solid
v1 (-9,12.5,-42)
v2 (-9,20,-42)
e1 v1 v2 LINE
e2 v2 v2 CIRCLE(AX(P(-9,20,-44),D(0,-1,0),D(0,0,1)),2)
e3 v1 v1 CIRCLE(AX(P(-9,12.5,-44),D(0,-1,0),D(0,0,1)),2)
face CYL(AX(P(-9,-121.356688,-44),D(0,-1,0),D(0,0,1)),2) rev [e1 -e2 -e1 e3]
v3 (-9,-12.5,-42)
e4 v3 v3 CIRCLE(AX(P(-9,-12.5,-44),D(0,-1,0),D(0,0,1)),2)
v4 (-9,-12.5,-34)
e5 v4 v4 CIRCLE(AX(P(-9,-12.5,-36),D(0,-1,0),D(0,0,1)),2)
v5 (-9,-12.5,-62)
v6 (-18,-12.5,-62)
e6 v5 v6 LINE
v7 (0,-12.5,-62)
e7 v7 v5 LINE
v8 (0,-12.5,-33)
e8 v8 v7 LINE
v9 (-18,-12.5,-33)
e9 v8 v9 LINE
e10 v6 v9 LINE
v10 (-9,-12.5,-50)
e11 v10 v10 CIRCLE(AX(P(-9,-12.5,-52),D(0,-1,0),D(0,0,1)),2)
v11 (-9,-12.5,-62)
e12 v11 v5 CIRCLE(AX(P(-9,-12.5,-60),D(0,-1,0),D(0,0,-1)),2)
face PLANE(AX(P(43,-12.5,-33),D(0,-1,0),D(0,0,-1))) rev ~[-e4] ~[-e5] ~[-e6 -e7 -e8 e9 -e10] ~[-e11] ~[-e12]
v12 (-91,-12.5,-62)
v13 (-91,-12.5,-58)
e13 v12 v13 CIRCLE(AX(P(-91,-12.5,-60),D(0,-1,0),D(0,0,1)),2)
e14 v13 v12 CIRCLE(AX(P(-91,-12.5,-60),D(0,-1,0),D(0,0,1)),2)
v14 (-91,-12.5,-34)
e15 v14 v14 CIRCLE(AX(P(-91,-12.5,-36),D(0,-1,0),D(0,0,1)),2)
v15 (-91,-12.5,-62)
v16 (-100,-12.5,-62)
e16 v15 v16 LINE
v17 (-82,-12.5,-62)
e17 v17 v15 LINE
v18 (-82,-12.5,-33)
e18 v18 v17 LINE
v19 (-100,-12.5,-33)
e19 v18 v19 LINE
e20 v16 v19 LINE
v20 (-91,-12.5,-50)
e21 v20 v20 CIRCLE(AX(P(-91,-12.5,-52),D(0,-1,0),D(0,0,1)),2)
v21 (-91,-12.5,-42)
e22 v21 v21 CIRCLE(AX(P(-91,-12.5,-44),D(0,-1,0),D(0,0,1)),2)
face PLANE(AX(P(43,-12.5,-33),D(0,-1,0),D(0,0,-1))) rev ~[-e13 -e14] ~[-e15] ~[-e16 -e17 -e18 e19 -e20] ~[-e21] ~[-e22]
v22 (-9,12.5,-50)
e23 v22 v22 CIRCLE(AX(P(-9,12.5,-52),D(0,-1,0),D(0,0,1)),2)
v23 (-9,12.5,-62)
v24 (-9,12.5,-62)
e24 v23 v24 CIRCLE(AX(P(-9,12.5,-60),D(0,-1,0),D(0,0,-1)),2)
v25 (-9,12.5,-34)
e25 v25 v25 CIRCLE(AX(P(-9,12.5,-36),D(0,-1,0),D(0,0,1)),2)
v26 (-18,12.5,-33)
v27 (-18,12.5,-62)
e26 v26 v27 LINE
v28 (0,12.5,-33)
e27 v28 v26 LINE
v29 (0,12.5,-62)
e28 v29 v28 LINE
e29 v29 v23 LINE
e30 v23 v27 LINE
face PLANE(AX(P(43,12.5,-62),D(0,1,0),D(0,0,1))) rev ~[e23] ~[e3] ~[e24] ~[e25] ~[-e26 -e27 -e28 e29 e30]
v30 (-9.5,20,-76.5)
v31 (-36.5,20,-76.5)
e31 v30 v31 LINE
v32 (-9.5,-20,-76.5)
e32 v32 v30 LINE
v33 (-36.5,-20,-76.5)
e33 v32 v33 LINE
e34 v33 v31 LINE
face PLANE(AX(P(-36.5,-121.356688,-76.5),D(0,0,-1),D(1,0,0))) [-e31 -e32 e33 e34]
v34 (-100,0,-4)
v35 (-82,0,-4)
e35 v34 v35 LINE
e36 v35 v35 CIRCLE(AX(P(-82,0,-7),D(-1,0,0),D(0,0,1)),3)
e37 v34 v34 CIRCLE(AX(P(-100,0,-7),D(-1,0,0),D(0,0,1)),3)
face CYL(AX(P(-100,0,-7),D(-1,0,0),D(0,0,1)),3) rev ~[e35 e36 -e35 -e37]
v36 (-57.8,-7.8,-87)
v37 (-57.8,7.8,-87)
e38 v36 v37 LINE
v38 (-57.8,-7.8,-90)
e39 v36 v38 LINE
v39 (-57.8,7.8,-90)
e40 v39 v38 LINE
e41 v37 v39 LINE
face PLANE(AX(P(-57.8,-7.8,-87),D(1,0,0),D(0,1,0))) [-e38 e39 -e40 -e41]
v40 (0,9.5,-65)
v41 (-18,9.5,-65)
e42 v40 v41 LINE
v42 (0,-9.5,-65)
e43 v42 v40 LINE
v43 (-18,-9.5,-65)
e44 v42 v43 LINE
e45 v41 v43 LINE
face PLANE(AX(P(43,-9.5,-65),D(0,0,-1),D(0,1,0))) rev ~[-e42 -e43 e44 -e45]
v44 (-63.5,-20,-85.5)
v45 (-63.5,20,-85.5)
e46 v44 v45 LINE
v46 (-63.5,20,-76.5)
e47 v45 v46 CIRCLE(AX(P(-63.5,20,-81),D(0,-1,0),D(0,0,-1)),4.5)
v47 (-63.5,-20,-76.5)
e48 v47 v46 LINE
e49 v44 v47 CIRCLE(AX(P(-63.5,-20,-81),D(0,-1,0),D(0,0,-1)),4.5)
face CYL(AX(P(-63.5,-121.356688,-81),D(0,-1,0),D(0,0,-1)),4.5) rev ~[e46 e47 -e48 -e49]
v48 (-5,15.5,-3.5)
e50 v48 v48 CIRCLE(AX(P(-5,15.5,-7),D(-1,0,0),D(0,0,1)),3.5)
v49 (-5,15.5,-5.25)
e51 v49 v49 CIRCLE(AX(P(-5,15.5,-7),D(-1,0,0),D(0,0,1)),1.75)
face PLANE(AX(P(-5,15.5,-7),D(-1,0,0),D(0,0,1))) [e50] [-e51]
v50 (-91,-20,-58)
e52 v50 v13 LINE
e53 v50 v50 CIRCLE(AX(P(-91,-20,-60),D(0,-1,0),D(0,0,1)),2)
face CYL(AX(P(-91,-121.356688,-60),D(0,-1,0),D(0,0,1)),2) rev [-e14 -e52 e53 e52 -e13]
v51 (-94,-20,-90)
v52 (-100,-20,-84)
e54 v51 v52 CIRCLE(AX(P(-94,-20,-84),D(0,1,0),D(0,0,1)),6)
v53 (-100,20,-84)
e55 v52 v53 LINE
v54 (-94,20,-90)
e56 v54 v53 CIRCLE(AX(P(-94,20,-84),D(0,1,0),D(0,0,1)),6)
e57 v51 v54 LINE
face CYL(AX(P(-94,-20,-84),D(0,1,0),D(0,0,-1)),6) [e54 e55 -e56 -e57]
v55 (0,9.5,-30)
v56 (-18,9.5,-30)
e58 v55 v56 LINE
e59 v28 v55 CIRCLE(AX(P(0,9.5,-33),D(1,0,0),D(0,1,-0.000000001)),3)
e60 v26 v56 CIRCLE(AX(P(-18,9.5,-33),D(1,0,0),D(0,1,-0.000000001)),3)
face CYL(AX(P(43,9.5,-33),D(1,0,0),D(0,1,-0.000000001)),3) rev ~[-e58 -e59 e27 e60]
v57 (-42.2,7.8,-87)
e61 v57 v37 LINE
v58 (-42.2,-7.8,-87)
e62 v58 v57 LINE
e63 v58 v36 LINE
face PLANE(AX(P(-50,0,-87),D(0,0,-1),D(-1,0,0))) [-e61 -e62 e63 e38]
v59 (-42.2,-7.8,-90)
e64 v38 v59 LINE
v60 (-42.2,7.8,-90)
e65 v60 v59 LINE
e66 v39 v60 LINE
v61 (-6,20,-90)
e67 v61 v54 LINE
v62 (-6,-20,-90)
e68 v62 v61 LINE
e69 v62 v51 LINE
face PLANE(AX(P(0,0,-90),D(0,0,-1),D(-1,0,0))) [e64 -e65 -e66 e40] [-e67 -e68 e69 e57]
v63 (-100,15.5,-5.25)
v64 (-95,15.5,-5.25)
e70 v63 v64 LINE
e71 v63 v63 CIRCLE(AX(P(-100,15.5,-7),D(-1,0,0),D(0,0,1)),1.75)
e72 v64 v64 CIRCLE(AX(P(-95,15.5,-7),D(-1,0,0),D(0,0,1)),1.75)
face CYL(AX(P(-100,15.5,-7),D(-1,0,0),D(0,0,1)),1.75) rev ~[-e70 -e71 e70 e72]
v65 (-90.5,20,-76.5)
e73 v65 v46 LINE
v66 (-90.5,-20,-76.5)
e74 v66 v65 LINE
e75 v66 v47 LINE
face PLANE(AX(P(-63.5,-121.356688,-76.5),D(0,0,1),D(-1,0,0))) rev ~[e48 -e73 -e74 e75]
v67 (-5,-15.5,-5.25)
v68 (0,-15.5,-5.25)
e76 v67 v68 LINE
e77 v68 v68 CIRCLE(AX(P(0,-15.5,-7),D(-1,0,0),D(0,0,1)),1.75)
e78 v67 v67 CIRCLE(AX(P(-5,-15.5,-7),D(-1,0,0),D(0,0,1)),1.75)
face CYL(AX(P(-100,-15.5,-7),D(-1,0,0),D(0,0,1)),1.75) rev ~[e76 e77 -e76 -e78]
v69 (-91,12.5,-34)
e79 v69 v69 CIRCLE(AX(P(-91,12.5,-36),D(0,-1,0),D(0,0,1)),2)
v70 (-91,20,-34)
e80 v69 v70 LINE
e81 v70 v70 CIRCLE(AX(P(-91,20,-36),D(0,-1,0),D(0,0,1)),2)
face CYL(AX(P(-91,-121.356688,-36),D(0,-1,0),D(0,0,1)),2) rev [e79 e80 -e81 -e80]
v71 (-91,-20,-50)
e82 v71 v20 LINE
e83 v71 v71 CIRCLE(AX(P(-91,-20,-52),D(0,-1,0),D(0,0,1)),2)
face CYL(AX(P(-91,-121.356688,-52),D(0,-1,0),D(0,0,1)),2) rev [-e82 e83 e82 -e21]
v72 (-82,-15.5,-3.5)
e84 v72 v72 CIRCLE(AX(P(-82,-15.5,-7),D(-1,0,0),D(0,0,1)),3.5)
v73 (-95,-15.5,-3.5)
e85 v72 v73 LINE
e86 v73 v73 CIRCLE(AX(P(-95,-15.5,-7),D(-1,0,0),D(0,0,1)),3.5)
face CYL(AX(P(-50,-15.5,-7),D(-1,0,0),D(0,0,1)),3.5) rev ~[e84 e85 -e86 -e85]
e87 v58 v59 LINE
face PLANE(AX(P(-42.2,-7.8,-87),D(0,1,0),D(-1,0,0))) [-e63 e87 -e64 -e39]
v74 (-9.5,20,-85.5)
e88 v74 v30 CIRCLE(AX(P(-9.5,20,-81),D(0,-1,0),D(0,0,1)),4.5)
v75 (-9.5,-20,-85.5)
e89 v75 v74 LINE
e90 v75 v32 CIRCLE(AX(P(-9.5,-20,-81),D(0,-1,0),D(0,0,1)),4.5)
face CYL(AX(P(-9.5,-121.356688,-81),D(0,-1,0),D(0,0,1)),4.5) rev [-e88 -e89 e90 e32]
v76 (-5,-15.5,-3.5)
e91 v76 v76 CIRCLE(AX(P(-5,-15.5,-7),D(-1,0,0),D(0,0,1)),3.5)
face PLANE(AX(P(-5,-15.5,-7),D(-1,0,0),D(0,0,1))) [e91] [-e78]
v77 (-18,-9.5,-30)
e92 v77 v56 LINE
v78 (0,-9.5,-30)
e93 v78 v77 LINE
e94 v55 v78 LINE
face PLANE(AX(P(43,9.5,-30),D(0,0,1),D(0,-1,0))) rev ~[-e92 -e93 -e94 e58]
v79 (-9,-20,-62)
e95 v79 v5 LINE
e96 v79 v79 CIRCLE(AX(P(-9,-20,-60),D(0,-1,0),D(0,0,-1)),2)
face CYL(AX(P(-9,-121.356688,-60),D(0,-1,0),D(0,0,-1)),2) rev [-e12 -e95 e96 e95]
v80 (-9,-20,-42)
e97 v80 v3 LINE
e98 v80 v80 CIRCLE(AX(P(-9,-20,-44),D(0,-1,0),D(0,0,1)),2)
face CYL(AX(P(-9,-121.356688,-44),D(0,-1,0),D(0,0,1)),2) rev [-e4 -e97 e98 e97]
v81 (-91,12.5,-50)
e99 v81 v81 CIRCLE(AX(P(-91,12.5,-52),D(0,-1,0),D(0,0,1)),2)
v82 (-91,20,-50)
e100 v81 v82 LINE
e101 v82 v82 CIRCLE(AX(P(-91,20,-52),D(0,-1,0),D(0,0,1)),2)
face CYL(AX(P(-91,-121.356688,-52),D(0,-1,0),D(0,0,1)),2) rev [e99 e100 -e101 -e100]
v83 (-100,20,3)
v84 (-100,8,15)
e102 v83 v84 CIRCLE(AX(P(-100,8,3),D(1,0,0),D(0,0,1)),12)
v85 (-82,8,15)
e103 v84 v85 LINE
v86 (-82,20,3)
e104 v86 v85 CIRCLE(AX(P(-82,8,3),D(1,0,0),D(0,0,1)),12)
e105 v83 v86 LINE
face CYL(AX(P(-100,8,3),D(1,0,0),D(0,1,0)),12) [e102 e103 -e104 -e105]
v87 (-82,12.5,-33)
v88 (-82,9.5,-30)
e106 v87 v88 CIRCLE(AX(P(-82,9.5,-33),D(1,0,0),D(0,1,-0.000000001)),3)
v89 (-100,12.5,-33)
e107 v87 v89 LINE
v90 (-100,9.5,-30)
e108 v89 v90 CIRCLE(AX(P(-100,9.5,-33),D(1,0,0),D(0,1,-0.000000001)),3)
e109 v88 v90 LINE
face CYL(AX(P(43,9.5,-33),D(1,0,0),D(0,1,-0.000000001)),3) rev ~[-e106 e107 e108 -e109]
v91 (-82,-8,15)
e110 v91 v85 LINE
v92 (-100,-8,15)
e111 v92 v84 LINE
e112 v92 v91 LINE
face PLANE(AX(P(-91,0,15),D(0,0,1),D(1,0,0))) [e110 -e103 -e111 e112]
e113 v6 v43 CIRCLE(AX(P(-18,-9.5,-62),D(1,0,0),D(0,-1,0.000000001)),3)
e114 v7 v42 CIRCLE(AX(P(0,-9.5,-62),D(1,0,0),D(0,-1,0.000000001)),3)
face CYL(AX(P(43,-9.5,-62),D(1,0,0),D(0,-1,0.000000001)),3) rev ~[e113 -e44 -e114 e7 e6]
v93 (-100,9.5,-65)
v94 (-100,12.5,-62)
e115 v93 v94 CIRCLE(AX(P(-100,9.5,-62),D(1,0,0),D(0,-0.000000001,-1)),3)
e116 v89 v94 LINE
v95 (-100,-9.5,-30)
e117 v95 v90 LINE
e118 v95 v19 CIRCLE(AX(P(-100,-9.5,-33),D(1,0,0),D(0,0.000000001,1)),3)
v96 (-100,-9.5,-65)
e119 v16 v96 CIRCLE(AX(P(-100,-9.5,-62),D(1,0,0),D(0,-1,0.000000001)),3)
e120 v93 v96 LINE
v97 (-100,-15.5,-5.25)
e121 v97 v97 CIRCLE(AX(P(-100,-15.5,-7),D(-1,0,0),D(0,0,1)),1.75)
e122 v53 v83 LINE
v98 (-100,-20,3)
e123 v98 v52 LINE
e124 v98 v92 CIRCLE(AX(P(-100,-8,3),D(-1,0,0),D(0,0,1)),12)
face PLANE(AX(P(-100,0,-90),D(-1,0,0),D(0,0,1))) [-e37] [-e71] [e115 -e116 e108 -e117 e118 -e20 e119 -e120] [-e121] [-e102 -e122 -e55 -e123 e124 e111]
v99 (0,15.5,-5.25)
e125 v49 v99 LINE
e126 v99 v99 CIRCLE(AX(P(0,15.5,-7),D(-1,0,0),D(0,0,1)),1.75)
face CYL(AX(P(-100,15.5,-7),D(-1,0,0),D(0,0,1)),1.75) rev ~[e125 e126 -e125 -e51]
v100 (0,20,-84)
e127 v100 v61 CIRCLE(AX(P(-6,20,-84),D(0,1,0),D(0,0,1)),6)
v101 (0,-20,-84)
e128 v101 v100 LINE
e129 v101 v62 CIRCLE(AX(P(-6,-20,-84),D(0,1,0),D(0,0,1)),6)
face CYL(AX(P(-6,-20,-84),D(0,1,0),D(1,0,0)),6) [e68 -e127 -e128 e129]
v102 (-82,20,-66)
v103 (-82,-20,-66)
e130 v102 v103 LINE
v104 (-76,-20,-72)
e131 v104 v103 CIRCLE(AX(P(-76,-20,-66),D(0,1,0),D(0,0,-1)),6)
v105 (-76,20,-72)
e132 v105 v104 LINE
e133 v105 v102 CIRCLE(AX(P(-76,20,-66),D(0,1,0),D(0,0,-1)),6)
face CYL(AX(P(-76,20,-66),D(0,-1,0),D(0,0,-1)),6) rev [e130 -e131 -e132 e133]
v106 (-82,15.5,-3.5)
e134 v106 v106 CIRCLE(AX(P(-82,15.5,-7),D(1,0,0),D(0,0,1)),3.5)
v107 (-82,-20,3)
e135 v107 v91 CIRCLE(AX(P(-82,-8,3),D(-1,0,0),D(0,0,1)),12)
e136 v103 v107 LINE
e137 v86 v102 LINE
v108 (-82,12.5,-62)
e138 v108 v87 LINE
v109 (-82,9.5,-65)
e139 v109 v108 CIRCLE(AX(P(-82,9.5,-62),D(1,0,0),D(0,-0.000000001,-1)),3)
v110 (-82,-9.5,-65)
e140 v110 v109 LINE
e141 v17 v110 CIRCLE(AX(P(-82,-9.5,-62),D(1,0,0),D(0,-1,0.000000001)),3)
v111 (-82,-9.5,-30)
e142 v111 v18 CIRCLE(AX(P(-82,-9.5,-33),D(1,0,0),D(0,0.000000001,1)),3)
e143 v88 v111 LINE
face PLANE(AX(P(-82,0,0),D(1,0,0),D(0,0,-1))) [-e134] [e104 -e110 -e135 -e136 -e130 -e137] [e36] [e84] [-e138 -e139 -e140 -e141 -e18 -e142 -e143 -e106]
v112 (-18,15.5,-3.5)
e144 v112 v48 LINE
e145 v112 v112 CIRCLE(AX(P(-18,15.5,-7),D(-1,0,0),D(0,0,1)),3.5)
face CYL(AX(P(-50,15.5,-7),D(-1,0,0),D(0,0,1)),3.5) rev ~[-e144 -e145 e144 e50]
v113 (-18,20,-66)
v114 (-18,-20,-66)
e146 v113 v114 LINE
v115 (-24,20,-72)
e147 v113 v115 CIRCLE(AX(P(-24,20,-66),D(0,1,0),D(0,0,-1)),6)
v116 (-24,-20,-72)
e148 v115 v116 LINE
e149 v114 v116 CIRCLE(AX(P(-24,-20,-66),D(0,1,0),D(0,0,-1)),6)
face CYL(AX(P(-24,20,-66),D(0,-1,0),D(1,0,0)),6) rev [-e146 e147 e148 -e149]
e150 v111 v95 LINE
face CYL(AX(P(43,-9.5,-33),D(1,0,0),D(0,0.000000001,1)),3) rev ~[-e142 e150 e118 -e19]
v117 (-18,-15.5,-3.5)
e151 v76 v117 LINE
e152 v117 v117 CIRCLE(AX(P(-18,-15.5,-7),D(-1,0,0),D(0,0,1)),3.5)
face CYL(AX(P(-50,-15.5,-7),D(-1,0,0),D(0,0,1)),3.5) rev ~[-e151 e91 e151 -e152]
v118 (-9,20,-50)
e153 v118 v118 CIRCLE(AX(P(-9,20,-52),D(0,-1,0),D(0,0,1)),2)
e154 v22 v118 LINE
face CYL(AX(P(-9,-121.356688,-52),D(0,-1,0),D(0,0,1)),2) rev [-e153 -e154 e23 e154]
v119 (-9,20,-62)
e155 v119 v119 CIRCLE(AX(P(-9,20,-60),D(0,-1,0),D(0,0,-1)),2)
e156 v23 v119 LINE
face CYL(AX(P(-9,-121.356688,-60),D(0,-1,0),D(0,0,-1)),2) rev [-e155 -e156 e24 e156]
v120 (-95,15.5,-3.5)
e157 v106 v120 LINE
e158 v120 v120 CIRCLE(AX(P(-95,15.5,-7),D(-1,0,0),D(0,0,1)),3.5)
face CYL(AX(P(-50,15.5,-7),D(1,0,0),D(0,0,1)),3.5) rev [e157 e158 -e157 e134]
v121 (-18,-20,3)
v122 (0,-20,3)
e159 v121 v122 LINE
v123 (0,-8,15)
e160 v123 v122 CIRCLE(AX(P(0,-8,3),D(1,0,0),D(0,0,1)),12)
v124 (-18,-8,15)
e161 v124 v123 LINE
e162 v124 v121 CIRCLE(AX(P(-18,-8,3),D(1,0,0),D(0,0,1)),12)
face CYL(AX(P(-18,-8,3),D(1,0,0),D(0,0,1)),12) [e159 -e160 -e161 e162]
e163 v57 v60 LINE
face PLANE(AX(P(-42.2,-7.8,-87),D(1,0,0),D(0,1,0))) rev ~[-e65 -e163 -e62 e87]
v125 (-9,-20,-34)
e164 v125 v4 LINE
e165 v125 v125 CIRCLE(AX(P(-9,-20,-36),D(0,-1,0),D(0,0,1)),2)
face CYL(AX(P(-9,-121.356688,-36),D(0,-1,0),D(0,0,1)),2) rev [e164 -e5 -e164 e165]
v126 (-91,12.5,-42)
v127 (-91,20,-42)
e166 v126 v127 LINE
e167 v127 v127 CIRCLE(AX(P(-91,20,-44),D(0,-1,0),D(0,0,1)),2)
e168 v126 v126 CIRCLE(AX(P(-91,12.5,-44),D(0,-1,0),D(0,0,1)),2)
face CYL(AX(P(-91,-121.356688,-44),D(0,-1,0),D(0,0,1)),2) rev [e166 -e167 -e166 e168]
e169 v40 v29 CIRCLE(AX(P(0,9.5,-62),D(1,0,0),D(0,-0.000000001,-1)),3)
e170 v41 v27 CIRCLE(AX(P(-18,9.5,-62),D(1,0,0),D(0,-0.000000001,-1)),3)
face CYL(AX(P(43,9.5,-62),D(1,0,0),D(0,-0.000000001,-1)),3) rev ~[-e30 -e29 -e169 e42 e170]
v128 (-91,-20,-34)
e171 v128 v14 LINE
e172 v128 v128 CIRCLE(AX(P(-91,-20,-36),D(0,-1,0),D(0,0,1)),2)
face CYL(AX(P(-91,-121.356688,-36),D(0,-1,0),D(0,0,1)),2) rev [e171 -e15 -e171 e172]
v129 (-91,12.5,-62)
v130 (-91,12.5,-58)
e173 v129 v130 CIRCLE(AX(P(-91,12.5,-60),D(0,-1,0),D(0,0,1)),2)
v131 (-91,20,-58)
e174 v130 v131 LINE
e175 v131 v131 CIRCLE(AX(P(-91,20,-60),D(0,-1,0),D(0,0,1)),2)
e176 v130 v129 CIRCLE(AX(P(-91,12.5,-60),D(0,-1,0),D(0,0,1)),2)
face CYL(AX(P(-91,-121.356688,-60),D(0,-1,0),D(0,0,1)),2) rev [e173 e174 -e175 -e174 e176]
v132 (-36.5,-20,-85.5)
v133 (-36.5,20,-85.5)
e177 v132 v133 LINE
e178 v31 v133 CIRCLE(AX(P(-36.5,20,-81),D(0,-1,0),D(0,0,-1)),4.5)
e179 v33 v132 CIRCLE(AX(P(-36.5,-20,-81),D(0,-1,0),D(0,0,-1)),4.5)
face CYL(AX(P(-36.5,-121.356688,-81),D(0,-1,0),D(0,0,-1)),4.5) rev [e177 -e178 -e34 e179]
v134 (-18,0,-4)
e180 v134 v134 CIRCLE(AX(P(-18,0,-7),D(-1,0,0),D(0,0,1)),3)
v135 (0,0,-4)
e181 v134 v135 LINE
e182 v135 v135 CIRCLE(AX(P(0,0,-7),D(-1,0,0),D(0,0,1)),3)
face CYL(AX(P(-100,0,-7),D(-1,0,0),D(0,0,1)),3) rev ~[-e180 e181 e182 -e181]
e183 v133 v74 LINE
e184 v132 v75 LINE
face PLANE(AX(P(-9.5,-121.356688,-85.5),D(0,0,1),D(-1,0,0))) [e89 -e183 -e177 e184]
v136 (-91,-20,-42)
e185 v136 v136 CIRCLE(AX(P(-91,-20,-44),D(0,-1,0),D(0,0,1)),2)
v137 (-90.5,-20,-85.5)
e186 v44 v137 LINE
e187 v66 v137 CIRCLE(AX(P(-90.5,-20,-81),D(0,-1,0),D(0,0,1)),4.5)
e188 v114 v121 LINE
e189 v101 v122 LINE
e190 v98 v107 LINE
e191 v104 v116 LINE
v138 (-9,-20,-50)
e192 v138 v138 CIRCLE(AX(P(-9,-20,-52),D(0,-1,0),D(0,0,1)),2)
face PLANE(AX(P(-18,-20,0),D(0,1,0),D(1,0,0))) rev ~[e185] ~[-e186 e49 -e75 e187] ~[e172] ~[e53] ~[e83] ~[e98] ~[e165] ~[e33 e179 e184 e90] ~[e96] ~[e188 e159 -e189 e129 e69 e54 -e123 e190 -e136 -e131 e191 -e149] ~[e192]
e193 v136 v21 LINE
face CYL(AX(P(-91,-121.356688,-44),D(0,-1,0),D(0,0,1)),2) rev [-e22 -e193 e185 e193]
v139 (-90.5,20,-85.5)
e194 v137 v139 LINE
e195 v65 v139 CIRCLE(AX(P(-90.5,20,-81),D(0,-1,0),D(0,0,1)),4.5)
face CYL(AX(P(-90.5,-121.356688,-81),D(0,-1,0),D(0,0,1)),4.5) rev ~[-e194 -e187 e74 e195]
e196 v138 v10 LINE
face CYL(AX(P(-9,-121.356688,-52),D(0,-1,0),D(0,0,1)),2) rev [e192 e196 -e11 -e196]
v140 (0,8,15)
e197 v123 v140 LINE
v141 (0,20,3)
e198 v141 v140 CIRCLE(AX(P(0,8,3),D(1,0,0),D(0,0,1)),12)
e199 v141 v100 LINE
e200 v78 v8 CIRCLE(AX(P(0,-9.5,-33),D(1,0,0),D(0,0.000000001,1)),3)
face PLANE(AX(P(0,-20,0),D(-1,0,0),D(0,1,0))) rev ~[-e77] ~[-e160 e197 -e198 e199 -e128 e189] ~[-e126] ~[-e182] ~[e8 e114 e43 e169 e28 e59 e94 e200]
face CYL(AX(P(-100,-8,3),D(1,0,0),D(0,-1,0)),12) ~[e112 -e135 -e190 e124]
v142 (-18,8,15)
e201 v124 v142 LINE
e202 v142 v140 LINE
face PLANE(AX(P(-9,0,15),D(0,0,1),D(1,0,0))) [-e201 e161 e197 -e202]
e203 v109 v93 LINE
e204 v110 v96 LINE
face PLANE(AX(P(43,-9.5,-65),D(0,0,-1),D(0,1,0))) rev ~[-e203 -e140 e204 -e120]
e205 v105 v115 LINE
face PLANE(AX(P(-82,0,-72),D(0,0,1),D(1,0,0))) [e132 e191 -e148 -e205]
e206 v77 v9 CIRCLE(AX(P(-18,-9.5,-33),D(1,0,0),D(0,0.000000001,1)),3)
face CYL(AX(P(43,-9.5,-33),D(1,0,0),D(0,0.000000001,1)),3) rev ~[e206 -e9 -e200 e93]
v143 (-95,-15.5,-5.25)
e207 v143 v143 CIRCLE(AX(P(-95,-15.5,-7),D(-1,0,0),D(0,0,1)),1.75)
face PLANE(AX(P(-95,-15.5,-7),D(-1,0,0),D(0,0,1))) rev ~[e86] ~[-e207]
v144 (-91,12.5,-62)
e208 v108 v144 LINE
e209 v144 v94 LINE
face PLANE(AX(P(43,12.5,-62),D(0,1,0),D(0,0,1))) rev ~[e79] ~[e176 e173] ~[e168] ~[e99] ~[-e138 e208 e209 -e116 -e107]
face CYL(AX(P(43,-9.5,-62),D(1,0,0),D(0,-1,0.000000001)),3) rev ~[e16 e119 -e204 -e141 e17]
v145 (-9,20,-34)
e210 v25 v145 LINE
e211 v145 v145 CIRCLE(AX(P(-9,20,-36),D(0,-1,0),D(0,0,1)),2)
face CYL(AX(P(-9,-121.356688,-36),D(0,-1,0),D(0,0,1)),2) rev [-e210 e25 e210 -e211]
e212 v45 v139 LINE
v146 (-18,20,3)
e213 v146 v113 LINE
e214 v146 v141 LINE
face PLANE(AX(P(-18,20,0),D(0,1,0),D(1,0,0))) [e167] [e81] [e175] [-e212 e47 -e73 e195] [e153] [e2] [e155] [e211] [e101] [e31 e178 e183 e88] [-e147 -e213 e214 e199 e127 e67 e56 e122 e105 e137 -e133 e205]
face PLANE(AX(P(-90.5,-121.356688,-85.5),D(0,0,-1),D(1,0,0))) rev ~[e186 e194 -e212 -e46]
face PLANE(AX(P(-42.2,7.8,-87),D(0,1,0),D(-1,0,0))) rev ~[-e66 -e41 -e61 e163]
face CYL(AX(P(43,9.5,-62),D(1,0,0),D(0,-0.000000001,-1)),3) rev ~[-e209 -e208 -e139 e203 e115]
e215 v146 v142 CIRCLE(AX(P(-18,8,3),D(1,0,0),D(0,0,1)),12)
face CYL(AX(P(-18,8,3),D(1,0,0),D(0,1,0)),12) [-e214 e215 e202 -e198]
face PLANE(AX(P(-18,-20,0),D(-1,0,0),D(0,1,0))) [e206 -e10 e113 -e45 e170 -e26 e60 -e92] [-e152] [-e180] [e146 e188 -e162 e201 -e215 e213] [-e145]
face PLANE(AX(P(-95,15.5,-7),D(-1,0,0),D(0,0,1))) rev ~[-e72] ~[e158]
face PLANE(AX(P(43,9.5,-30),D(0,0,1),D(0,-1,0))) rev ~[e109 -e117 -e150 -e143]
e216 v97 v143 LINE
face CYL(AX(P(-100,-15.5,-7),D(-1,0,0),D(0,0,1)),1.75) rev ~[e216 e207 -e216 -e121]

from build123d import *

# Parameters (mm, degrees)
EXTRUDE_1_DEPTH          = 20
SKETCH_2_R               = 3
SKETCH_2_R_2             = 1.75
CUT_EXTRUDE_1_DEPTH      = 112
CUT_EXTRUDE_2_DEPTH      = 123
CUT_EXTRUDE_2_DEPTH_BACK = 61
SKETCH_5_W               = 18
SKETCH_5_H               = 40
EXTRUDE_3_DEPTH          = 15
CUT_EXTRUDE_3_DEPTH      = 141.356688476
CUT_EXTRUDE_3_DEPTH_BACK = 141.356688476
SKETCH_6_R               = 2
CUT_EXTRUDE_4_DEPTH      = 141.356688476
CUT_EXTRUDE_4_DEPTH_BACK = 141.356688476
FILLET_1_R               = 6
FILLET_2_R               = 12
CUT_EXTRUDE_5_DEPTH      = 147.372811683
CUT_EXTRUDE_5_DEPTH_BACK = 3
SKETCH_8_W               = 15.6
SKETCH_8_H               = 15.6
SKETCH_9_R               = 3.5
CUT_EXTRUDE_6_DEPTH      = 45


with BuildPart() as part:
    # 草图1 → 凸台-拉伸1 (new, symmetric)
    with BuildSketch(Plane(origin=(0, 0, 0), x_dir=(1, 0, 0), z_dir=(0, 1, 0))):
        Polygon((-18, 0), (0, 0), (0, 90), (-100, 90), (-100, 0), (-82, 0), (-82, 72), (-18, 72), align=None)
    extrude(amount=EXTRUDE_1_DEPTH, both=True)

    # 草图2 → 切除-拉伸1 (cut)
    with BuildSketch(Plane.ZY.offset(100)):
        with Locations((-7, 0)):
            Circle(SKETCH_2_R)
        with Locations((-7, 15.5)):
            Circle(SKETCH_2_R_2)
        with Locations((-7, -15.5)):
            Circle(SKETCH_2_R_2)
    extrude(amount=-CUT_EXTRUDE_1_DEPTH, mode=Mode.SUBTRACT)

    # 草图4 → 切除-拉伸2 (cut, two sides: drawn at the far end of the back side and taken through both)
    with BuildSketch(Plane.ZY.offset(18).offset(-CUT_EXTRUDE_2_DEPTH_BACK)):
        with BuildLine():
            Line((-62, 12.5), (-33, 12.5))
            ThreePointArc((-33, 12.5), (-30.878679656, 11.621320344), (-30, 9.5))
            Line((-30, 9.5), (-30, -9.5))
            ThreePointArc((-30, -9.5), (-30.878679656, -11.621320344), (-33, -12.5))
            Line((-33, -12.5), (-62, -12.5))
            ThreePointArc((-62, -12.5), (-64.121320344, -11.621320344), (-65, -9.5))
            Line((-65, -9.5), (-65, 9.5))
            ThreePointArc((-65, 9.5), (-64.121320344, 11.621320344), (-62, 12.5))
        make_face()
    extrude(amount=CUT_EXTRUDE_2_DEPTH + CUT_EXTRUDE_2_DEPTH_BACK, mode=Mode.SUBTRACT)

    # 草图5 → 凸台-拉伸3 (add)
    with BuildSketch(Plane.XY):
        with Locations((-9, 0)):
            Rectangle(SKETCH_5_W, SKETCH_5_H)
        with Locations((-91, 0)):
            Rectangle(SKETCH_5_W, SKETCH_5_H)
    extrude(amount=EXTRUDE_3_DEPTH)

    # 草图6 → 切除-拉伸3 (cut, two sides: drawn at the far end of the back side and taken through both)
    with BuildSketch(Plane(origin=(0, 20, 0), x_dir=(1, 0, 0), z_dir=(0, 1, 0)).offset(-CUT_EXTRUDE_3_DEPTH_BACK)):
        with Locations(Location((-91, 60, 0), (0, 0, 270))):
            Circle(SKETCH_6_R)
        with Locations(Location((-91, 52, 0), (0, 0, 270))):
            Circle(SKETCH_6_R)
        with Locations(Location((-91, 44, 0), (0, 0, 270))):
            Circle(SKETCH_6_R)
        with Locations(Location((-91, 36, 0), (0, 0, 270))):
            Circle(SKETCH_6_R)
        with Locations(Location((-9, 36, 0), (0, 0, 270))):
            Circle(SKETCH_6_R)
        with Locations(Location((-9, 44, 0), (0, 0, 270))):
            Circle(SKETCH_6_R)
        with Locations(Location((-9, 52, 0), (0, 0, 270))):
            Circle(SKETCH_6_R)
        with Locations(Location((-9, 60, 0), (0, 0, 90))):
            Circle(SKETCH_6_R)
    extrude(amount=CUT_EXTRUDE_3_DEPTH + CUT_EXTRUDE_3_DEPTH_BACK, mode=Mode.SUBTRACT)

    # 草图7 → 切除-拉伸4 (cut, two sides: drawn at the far end of the back side and taken through both)
    with BuildSketch(Plane(origin=(0, 20, 0), x_dir=(1, 0, 0), z_dir=(0, 1, 0)).offset(-CUT_EXTRUDE_4_DEPTH_BACK)):
        with BuildLine():
            Line((-90.5, 85.5), (-63.5, 85.5))
            ThreePointArc((-63.5, 85.5), (-59, 81), (-63.5, 76.5))
            Line((-63.5, 76.5), (-90.5, 76.5))
            ThreePointArc((-90.5, 76.5), (-95, 81), (-90.5, 85.5))
        make_face()
        with BuildLine():
            Line((-9.5, 85.5), (-36.5, 85.5))
            ThreePointArc((-36.5, 85.5), (-41, 81), (-36.5, 76.5))
            Line((-36.5, 76.5), (-9.5, 76.5))
            ThreePointArc((-9.5, 76.5), (-5, 81), (-9.5, 85.5))
        make_face()
    extrude(amount=CUT_EXTRUDE_4_DEPTH + CUT_EXTRUDE_4_DEPTH_BACK, mode=Mode.SUBTRACT)

    # 圆角1
    fillet_1_edges = [part.edges().sort_by_distance(p)[0] for p in [
        (-18, 0, -72),
        (-82, 0, -72),
        (-100, 0, -90),
        (0, 0, -90),
    ]]
    fillet(fillet_1_edges, radius=FILLET_1_R)

    # 圆角2
    fillet_2_edges = [part.edges().sort_by_distance(p)[0] for p in [
        (-9, -20, 15),
        (-9, 20, 15),
        (-91, -20, 15),
        (-91, 20, 15),
    ]]
    fillet(fillet_2_edges, radius=FILLET_2_R)

    # 草图8 → 切除-拉伸5 (cut, two sides: drawn at the far end of the back side and taken through both)
    with BuildSketch(Plane(origin=(0, 0, -90), x_dir=(-1, 0, 0), z_dir=(0, 0, -1)).offset(-CUT_EXTRUDE_5_DEPTH_BACK)):
        with Locations((50, 0)):
            Rectangle(SKETCH_8_W, SKETCH_8_H)
    extrude(amount=CUT_EXTRUDE_5_DEPTH + CUT_EXTRUDE_5_DEPTH_BACK, mode=Mode.SUBTRACT)

    # 草图9 → 切除-拉伸6 (cut, symmetric)
    with BuildSketch(Plane.ZY.offset(50)):
        with Locations((-7, 15.5)):
            Circle(SKETCH_9_R)
        with Locations((-7, -15.5)):
            Circle(SKETCH_9_R)
    extrude(amount=CUT_EXTRUDE_6_DEPTH, both=True, mode=Mode.SUBTRACT)


solid = part.part
